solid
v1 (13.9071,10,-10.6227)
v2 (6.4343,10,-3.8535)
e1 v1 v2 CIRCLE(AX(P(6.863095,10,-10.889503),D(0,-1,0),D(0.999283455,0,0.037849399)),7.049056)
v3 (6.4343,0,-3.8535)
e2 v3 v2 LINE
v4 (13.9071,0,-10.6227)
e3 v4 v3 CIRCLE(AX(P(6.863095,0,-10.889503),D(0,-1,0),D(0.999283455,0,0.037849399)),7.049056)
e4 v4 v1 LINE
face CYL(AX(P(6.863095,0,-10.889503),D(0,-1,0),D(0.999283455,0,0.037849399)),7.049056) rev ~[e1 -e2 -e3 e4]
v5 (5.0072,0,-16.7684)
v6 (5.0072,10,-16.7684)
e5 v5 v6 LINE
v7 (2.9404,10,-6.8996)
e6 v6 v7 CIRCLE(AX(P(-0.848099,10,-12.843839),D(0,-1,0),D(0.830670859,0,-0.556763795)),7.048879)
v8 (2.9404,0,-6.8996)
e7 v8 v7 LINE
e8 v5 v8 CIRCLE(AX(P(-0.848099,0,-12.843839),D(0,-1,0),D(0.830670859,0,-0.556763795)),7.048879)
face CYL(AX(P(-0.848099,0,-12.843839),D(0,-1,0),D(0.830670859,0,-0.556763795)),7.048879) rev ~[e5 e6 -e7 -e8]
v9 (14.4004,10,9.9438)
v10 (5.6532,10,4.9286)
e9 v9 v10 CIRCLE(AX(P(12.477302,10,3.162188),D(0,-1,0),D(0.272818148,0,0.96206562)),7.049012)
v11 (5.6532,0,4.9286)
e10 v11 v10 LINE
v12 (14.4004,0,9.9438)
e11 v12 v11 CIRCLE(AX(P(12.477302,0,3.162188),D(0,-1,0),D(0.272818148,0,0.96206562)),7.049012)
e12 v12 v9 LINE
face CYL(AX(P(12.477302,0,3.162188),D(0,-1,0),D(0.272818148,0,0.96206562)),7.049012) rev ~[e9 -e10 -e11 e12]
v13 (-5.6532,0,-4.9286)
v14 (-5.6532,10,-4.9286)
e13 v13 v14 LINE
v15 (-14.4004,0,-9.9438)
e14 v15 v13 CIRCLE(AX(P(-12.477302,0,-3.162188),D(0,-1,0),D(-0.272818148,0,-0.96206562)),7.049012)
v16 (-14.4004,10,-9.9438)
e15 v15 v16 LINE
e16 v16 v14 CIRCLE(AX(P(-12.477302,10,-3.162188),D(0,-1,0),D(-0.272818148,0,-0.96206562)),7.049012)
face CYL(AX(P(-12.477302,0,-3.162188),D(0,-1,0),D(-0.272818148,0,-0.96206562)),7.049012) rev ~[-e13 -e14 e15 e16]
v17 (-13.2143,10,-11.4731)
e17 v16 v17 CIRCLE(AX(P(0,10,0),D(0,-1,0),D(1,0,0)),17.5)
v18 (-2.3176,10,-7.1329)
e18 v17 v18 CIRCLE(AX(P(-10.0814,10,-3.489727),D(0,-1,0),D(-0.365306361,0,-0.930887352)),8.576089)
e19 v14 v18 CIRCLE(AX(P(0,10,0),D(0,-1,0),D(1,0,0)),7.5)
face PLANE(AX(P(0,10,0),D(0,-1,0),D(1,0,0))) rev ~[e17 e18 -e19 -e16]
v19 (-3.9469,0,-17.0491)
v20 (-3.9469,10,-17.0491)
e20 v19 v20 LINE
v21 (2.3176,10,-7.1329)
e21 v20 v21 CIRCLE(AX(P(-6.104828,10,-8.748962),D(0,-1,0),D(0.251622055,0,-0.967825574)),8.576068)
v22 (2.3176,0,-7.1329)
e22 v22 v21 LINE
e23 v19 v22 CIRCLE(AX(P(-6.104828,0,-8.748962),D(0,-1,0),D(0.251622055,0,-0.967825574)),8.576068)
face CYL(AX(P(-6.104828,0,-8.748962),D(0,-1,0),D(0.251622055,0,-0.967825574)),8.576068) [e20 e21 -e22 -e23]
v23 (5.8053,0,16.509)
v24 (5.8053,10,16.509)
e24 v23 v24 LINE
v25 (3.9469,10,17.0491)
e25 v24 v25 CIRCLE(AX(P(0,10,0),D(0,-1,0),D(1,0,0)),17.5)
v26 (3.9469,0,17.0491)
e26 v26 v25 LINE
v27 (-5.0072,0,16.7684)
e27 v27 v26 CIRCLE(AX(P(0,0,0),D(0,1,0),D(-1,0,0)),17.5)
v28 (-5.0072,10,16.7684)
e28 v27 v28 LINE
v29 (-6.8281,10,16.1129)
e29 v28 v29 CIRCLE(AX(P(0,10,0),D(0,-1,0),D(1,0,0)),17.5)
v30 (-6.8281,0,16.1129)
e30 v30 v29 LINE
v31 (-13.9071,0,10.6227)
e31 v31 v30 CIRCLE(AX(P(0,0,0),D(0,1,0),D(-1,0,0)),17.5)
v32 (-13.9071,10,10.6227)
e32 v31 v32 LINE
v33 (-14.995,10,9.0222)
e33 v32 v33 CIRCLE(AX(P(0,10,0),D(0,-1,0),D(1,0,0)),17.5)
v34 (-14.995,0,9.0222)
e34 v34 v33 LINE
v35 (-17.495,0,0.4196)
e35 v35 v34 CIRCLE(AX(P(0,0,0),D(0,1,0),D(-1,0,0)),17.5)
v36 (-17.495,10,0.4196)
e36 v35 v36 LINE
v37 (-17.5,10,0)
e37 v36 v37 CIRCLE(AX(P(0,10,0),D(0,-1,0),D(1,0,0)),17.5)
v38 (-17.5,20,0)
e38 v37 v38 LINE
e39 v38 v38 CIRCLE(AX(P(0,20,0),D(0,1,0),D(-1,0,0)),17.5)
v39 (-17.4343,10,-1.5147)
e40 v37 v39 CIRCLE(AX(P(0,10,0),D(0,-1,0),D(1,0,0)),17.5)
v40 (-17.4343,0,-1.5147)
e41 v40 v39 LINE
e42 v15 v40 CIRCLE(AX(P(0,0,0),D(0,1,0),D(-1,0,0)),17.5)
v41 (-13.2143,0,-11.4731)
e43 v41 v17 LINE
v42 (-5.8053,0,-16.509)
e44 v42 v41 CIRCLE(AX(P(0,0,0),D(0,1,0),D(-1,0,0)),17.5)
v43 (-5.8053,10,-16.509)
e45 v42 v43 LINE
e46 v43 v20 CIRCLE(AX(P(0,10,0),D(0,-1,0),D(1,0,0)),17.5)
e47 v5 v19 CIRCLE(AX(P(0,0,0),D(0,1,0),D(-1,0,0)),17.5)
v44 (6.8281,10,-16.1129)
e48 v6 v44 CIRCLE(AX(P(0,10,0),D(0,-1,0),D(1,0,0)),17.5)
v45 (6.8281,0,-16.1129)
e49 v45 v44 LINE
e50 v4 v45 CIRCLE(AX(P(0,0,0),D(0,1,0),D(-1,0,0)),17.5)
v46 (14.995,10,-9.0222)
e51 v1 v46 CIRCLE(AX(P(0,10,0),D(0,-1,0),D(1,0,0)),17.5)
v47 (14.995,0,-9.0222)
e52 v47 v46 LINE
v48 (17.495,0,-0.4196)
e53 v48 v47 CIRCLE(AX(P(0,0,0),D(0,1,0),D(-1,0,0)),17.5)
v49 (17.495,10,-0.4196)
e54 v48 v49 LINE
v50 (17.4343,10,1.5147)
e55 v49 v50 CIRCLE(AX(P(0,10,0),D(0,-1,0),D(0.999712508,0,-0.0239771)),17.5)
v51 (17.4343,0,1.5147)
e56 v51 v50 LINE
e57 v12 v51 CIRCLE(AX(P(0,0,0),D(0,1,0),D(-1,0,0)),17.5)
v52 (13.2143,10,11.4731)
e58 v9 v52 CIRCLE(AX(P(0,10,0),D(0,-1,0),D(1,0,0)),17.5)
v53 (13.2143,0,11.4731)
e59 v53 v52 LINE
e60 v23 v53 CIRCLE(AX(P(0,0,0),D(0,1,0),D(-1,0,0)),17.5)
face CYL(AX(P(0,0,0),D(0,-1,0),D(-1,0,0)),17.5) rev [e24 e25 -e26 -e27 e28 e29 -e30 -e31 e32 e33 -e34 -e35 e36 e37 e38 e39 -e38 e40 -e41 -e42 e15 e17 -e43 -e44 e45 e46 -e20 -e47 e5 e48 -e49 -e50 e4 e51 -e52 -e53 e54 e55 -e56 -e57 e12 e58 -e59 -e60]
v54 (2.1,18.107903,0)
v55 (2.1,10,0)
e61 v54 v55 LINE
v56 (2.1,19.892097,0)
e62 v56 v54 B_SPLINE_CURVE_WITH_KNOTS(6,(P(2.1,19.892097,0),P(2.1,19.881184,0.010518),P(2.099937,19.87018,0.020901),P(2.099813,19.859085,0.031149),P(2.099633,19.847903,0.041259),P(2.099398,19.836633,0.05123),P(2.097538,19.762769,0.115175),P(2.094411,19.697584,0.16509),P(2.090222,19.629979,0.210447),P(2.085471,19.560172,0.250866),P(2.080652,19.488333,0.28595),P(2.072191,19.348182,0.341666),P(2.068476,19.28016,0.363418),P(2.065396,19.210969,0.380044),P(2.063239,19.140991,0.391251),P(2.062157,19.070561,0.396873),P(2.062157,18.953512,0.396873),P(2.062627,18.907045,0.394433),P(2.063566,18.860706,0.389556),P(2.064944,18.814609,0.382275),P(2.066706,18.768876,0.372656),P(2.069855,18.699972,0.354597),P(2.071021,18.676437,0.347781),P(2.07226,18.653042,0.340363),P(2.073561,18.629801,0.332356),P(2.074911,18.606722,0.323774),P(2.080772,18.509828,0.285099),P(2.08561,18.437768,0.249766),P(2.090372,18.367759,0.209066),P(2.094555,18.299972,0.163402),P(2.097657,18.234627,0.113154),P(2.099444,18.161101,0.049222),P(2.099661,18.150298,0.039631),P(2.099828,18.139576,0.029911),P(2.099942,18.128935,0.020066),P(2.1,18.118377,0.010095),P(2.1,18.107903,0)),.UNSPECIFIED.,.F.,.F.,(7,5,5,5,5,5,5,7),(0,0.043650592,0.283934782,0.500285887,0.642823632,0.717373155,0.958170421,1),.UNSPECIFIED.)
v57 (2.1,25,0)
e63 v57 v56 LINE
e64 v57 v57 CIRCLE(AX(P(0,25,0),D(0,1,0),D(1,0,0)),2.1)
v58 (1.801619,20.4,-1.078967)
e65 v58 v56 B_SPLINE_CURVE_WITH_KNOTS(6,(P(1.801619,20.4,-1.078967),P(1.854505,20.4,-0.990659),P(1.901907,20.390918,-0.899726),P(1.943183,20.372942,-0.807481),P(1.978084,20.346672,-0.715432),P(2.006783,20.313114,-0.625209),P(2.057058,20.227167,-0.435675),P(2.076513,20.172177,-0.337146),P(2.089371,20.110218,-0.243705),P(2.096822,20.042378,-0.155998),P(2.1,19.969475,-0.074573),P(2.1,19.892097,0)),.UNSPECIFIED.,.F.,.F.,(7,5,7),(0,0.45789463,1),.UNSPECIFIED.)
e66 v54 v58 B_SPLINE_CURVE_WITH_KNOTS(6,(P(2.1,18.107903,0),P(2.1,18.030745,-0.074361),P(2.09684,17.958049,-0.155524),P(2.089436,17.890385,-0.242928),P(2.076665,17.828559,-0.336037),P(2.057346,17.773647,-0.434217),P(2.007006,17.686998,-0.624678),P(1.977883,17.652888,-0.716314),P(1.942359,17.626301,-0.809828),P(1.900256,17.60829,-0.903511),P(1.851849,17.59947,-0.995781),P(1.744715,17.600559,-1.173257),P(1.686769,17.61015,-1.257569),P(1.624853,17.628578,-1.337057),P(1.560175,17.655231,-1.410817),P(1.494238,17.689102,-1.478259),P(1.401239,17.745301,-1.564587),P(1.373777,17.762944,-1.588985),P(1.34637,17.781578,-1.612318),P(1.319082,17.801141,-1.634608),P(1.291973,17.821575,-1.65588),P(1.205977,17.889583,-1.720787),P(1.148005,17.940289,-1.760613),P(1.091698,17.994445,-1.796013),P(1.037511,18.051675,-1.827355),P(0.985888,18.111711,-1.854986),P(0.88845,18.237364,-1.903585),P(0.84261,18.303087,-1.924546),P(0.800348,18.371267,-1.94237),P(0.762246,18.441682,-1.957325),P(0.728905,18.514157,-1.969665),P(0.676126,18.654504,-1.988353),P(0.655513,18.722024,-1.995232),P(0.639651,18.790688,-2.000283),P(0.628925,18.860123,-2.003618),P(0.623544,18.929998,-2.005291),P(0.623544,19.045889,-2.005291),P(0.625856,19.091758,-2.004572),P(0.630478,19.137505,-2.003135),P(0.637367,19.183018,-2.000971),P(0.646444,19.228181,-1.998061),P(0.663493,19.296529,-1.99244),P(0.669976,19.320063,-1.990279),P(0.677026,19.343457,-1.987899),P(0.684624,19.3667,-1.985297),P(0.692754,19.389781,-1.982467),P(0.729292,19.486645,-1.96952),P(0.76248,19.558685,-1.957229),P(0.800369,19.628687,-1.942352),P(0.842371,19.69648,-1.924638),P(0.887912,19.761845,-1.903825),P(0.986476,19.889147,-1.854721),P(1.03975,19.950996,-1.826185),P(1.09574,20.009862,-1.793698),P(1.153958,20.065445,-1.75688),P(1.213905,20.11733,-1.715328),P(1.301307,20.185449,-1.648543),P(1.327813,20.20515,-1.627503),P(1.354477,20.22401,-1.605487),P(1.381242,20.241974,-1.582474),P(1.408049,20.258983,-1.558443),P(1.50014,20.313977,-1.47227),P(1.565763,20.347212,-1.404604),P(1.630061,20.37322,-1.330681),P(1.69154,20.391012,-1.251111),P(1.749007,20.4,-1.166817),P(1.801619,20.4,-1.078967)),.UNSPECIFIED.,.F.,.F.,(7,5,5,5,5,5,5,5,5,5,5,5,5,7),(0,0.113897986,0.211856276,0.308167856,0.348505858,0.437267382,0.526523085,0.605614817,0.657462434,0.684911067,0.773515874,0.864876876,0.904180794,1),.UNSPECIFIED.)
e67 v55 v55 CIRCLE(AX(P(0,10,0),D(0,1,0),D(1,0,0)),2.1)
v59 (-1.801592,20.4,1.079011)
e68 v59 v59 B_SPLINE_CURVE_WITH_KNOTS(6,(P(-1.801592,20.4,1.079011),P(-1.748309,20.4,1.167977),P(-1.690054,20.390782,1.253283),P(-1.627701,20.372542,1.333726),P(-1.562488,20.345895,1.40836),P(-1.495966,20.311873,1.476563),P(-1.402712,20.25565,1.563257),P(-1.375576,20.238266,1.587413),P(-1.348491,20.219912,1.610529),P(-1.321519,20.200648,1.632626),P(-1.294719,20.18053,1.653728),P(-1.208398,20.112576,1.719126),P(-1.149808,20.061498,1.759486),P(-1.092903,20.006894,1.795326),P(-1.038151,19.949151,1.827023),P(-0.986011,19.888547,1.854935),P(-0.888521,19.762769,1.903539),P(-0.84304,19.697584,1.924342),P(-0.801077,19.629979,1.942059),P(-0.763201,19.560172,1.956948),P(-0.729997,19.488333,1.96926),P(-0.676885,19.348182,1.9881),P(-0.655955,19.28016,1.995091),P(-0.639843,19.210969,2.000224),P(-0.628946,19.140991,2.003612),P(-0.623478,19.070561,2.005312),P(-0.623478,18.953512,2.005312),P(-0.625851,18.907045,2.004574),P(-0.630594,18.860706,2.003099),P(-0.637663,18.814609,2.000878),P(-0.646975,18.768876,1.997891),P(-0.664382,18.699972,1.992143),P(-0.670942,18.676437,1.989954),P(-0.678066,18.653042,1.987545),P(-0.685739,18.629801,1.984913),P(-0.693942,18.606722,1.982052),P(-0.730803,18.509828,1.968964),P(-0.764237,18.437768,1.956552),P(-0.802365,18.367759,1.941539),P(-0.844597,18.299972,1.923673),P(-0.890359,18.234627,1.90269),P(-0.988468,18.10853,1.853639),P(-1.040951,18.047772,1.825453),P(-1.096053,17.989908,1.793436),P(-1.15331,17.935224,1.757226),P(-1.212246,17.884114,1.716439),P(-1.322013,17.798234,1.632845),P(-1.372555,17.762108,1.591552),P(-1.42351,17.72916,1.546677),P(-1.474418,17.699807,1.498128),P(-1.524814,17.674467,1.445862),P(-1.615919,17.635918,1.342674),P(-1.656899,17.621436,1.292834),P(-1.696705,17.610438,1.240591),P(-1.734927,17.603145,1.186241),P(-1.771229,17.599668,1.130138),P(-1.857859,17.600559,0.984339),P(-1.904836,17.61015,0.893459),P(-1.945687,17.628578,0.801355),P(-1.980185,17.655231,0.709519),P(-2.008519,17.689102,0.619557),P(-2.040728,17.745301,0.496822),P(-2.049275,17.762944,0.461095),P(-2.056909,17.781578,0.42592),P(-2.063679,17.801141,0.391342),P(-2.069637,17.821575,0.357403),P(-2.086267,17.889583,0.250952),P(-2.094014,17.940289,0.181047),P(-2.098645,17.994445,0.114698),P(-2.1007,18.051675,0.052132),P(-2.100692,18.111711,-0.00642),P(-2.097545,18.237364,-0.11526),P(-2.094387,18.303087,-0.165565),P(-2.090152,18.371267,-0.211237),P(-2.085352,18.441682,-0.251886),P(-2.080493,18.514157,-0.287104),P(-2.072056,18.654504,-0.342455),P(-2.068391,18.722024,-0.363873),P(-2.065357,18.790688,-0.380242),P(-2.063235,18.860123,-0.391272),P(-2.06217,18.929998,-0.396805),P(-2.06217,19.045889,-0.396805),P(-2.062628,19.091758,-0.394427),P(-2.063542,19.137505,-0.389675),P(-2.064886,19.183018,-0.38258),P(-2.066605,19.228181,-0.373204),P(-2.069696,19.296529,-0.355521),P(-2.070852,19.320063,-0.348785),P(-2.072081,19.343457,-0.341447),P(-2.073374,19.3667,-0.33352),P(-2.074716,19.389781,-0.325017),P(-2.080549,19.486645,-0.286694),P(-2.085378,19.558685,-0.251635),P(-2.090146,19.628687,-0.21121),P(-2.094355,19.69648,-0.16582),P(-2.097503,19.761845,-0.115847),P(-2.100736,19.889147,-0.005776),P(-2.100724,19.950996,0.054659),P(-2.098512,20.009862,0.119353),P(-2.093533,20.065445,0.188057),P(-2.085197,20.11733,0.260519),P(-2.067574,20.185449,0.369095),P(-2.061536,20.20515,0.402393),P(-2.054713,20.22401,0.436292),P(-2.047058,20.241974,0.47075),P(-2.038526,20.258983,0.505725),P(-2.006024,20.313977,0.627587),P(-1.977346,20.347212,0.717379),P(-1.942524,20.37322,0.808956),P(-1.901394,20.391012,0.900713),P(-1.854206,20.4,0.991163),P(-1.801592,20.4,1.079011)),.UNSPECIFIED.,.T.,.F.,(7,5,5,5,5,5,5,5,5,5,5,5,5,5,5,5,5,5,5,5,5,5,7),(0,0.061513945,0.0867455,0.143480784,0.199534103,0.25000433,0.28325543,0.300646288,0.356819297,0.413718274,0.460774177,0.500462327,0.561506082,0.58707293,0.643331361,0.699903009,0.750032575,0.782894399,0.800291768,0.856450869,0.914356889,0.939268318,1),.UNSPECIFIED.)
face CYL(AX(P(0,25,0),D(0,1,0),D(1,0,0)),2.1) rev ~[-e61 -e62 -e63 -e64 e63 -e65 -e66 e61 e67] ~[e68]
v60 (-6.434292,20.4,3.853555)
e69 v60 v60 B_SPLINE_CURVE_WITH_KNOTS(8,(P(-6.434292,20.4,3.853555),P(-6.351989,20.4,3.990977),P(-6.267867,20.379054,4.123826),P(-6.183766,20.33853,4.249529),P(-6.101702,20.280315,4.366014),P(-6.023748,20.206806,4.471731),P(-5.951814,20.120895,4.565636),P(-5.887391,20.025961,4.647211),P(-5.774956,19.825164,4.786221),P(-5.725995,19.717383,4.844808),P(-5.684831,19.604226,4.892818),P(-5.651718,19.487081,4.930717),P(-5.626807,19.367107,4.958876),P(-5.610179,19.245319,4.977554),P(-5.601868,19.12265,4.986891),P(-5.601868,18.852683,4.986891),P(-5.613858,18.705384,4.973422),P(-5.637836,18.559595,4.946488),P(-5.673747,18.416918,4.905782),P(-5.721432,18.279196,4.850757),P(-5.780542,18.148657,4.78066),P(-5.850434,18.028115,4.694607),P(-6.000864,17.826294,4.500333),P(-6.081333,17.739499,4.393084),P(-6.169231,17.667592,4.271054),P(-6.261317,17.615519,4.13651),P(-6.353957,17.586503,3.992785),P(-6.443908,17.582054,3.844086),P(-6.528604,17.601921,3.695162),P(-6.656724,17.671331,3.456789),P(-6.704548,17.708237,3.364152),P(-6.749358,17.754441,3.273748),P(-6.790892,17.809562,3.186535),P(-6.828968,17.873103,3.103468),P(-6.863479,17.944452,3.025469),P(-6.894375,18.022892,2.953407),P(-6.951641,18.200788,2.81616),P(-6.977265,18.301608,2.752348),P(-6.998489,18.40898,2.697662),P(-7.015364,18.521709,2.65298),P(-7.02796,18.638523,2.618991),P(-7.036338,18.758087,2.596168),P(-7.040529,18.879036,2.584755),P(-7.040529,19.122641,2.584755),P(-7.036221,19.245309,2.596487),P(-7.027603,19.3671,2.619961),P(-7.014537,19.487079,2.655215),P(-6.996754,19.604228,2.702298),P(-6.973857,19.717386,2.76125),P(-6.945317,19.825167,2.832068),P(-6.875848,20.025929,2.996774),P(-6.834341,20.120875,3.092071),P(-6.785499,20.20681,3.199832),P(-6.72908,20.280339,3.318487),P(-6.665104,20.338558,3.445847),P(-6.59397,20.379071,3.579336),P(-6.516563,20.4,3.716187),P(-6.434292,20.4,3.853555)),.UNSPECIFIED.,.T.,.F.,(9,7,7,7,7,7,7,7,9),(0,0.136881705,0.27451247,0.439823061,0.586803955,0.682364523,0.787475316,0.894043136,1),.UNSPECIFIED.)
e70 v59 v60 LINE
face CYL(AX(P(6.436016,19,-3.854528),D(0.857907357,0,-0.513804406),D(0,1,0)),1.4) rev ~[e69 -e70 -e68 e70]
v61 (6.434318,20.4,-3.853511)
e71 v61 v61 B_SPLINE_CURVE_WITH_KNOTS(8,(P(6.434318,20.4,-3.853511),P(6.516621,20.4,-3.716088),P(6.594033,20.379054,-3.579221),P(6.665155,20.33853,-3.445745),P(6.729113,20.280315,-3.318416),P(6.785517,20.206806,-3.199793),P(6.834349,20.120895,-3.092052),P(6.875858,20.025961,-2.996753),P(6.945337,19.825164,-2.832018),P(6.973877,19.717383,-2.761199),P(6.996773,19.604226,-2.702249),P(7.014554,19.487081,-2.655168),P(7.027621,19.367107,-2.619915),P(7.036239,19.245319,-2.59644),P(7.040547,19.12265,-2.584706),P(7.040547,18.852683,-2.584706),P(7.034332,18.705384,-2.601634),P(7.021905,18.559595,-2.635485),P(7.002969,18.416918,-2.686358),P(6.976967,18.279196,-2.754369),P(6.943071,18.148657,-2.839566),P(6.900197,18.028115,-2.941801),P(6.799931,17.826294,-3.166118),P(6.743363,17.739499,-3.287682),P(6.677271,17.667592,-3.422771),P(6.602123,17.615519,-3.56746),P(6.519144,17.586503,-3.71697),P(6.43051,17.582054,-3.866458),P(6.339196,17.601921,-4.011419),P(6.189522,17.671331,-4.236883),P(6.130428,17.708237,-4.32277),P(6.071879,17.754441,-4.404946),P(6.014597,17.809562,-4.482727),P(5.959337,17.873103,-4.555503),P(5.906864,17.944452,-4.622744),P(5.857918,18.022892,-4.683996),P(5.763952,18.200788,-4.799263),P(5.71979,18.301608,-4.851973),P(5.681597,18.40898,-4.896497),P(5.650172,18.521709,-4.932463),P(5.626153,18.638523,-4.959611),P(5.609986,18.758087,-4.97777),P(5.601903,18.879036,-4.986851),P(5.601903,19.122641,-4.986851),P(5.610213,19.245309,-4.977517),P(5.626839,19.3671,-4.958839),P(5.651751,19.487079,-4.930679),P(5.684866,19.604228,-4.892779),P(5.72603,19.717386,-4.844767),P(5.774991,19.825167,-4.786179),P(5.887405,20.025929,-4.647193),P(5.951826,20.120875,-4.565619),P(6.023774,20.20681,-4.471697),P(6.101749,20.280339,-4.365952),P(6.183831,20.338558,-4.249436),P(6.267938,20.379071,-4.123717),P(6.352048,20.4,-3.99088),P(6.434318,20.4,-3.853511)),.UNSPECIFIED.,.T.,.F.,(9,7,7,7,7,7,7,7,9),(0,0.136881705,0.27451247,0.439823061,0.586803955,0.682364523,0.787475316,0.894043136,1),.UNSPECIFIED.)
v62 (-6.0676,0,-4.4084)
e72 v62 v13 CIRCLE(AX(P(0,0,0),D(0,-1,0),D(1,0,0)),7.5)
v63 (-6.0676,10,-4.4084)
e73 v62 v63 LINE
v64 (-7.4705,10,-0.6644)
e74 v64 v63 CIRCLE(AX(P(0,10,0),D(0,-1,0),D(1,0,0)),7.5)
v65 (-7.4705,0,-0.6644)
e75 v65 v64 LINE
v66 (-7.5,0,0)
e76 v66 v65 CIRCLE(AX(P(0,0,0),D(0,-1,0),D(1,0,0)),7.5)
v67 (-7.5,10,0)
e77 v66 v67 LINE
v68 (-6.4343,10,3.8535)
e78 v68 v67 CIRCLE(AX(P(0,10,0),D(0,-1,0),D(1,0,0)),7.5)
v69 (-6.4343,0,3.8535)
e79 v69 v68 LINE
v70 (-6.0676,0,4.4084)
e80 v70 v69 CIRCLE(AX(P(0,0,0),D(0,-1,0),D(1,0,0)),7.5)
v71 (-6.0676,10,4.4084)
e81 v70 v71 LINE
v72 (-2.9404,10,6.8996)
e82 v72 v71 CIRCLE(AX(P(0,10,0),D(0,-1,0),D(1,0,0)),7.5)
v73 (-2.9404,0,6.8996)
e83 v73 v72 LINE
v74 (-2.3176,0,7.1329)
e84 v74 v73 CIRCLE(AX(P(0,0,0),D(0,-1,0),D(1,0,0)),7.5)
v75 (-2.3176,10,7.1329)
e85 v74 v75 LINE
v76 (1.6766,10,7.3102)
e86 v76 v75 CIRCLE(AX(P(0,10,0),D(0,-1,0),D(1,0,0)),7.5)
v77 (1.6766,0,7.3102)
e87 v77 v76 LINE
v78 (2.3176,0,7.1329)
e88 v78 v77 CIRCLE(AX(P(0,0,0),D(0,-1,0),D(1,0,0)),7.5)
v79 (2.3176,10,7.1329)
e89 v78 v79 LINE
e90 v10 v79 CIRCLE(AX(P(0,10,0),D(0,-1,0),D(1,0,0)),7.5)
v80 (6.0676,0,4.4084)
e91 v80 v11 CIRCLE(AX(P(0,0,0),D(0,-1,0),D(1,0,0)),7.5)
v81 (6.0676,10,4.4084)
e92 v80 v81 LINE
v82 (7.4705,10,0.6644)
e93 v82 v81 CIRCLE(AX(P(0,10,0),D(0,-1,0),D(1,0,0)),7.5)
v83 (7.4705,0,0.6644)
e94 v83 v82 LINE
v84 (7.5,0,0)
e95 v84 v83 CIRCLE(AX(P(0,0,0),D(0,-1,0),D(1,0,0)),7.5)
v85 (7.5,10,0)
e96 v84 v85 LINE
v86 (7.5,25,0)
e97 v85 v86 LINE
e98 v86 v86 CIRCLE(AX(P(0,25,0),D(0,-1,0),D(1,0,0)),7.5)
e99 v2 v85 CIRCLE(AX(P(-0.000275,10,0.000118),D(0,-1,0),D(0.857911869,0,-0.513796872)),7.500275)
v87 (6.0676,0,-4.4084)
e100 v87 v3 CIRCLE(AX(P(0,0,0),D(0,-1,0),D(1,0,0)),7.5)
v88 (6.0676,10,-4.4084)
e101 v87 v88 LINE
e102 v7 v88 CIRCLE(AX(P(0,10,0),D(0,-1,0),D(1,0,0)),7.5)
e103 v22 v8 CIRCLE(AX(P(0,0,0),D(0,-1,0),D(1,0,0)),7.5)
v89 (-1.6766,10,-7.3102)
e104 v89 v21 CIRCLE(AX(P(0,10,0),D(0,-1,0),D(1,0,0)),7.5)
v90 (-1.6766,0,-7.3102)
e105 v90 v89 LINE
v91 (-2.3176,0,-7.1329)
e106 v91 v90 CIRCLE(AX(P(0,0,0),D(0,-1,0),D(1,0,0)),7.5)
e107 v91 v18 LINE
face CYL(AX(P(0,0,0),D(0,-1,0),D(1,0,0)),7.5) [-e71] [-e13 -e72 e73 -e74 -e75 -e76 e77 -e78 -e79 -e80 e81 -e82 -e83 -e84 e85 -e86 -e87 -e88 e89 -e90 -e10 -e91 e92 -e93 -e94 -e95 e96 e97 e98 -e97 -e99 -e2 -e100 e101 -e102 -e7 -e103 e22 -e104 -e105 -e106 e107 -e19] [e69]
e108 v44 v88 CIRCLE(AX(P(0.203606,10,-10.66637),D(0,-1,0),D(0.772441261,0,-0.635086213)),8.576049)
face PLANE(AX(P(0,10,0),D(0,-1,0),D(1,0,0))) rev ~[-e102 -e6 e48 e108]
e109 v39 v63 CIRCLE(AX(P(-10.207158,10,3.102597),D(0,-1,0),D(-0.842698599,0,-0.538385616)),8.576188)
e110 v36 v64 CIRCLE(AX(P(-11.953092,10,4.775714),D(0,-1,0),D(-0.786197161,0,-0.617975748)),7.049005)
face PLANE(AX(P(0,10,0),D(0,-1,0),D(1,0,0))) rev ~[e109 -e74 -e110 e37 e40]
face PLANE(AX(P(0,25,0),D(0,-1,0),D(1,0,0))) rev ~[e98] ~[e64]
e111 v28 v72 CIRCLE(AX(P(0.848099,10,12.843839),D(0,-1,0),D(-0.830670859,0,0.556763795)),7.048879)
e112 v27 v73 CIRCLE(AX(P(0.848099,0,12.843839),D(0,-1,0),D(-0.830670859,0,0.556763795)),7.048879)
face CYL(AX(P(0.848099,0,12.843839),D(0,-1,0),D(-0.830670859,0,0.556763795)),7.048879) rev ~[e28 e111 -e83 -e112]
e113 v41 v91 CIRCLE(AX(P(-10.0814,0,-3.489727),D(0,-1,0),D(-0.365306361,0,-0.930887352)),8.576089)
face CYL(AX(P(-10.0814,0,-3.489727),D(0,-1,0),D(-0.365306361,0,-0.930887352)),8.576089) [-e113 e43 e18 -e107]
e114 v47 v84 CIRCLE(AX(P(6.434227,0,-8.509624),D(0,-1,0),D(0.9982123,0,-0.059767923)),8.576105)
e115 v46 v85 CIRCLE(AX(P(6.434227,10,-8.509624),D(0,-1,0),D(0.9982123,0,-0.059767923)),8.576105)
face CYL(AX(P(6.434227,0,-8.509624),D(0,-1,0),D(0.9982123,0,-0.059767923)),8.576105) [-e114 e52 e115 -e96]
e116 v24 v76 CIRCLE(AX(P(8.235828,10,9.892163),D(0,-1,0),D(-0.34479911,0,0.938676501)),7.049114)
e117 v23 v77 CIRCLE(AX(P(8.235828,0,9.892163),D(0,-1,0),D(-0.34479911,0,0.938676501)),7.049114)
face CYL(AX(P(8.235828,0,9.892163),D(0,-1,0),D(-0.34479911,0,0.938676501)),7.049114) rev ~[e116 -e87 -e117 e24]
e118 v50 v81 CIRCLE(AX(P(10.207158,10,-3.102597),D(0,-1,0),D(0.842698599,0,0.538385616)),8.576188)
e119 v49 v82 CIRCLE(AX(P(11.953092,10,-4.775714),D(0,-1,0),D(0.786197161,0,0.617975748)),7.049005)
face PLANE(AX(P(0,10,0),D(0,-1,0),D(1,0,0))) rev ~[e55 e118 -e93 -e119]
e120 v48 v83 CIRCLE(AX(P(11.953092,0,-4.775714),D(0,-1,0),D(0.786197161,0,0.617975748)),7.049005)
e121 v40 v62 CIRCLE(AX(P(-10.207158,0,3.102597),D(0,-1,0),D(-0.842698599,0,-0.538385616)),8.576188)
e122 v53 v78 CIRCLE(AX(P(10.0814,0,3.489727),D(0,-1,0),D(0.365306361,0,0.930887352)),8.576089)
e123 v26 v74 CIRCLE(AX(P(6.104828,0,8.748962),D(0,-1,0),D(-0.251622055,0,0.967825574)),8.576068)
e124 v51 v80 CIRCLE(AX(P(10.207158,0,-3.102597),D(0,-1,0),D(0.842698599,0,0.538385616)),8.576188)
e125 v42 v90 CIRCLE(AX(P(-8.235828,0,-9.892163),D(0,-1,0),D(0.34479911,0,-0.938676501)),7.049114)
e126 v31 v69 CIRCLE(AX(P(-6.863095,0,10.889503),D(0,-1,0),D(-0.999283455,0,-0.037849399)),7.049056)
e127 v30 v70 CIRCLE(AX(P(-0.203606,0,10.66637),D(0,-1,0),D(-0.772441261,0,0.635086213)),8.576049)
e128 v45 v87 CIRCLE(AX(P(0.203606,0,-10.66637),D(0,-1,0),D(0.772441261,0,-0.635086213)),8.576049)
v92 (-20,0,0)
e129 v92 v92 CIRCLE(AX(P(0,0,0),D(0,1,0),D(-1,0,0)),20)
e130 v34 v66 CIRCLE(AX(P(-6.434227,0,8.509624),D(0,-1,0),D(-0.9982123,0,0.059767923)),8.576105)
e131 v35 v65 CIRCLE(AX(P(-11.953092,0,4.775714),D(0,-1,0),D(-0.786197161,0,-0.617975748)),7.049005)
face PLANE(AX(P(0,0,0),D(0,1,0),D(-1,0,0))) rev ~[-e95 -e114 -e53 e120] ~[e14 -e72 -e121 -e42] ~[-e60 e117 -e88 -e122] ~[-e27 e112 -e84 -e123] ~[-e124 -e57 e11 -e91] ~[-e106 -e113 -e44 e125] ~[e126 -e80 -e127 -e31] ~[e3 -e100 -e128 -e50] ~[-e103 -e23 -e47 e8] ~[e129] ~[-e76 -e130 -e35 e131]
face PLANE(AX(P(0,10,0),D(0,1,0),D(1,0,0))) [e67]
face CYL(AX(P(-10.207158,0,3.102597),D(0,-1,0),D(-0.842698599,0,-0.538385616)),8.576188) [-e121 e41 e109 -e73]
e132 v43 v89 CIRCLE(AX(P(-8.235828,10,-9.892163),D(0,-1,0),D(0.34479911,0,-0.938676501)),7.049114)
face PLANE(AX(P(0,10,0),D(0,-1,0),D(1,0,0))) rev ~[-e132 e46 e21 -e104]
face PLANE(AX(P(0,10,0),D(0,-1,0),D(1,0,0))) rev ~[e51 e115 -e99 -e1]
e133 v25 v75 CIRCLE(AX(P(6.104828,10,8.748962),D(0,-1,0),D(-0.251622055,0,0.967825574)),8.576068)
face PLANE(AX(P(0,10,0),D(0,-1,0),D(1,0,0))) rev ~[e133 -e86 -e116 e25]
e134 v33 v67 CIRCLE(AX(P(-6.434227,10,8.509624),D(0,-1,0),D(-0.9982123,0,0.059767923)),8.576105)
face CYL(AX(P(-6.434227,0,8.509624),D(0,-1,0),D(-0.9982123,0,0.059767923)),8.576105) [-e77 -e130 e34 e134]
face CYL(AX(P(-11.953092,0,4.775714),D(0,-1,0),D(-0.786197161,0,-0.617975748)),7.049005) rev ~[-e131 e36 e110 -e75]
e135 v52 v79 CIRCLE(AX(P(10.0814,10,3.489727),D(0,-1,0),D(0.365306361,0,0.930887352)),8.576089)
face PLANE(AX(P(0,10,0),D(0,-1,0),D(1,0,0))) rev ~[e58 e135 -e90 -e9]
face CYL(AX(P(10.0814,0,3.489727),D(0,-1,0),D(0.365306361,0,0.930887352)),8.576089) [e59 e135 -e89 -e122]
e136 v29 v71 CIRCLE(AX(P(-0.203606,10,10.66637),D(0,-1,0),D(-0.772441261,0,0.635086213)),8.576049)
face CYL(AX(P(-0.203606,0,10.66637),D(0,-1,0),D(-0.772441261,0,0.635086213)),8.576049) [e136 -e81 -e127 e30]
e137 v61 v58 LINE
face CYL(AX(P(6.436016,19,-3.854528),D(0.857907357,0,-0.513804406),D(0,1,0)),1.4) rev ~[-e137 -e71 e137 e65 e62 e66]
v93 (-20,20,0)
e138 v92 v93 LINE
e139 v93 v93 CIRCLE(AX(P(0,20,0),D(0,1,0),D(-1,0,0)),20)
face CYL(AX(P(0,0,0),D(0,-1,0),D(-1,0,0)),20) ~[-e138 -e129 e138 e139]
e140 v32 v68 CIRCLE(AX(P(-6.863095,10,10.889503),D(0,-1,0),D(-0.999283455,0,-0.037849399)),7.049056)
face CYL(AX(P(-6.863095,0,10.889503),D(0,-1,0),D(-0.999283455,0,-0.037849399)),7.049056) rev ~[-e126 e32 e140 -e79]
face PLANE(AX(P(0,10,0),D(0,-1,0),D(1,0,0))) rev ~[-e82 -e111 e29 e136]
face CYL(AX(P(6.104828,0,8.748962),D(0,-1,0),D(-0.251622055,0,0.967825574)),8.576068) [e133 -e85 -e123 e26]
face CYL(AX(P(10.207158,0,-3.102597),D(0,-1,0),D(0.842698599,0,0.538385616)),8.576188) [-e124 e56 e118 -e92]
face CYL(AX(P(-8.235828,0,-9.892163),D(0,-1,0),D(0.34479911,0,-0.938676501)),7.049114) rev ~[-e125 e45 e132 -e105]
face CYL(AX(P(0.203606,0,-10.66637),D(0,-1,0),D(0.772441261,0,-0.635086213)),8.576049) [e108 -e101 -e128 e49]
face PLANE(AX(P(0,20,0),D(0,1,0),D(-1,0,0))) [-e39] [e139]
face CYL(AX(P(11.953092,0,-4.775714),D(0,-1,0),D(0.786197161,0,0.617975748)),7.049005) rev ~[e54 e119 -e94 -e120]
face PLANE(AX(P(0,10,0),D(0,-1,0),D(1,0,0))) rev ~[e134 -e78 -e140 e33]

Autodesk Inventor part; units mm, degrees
ref_plane "YZ Plane" through (0, 0, 0) normal (1, 0, 0) x (0, 1, 0)
ref_plane "XZ Plane" through (0, 0, 0) normal (0, 1, 0) x (-1, 0, 0)
ref_plane "XY Plane" through (0, 0, 0) normal (0, 0, 1) x (1, 0, 0)
sketch "Эскиз1" plane through (0, 0, 0) normal (0, 1, 0) x (-1, 0, 0)
  circle A0 centre (0, 0) radius 20
  circle A1 centre (0, 0) radius 17.5
  dimension "d0" = 40
  dimension "d1" = 35
extrude "Выдавливание1" add sketch "Эскиз1" along normal blind 20
sketch "Эскиз2" plane through (0, 0, 0) normal (0, -1, 0) x (1, 0, 0)
  circle A0 centre (0, 0) radius 7.5
  dimension "d5" = 15
extrude "Выдавливание2" add sketch "Эскиз2" against normal blind 25
sketch "Эскиз3" plane through (0, 0, 0) normal (0, -1, 0) x (1, 0, 0)
  arc A0 (6.4343, -3.8535) -> (7.5, 0) centre (0, 0) ccw
  circle A1 centre (0, 0) radius 17.5 projected
  arc A2 (13.9071, -10.6227) -> (14.995, -9.0222) centre (0, 0) ccw
  circle A3 centre (0, 0) radius 7.5 projected
  arc A4 (14.995, -9.0222) -> (7.5, 0) centre (6.4343, -8.5096) ccw
  arc A5 (13.9071, -10.6227) -> (6.4343, -3.8535) centre (6.8631, -10.8895) ccw
  arc A6 (17.4343, 1.5147) -> (6.0676, 4.4084) centre (10.2073, -3.1024) ccw
  arc A7 (7.4705, 0.6644) -> (6.0676, 4.4084) centre (0, 0) ccw
  arc A8 (17.495, -0.4196) -> (7.4705, 0.6644) centre (11.9531, -4.7757) ccw
  arc A9 (17.495, -0.4196) -> (17.4343, 1.5147) centre (0, 0) ccw
  arc A10 (13.2143, 11.4731) -> (2.3176, 7.1329) centre (10.0814, 3.4898) ccw
  arc A11 (5.6532, 4.9286) -> (2.3176, 7.1329) centre (0, 0) ccw
  arc A12 (14.4004, 9.9438) -> (5.6532, 4.9286) centre (12.4773, 3.1622) ccw
  arc A13 (14.4004, 9.9438) -> (13.2143, 11.4731) centre (0, 0) ccw
  arc A14 (3.9469, 17.0491) -> (-2.3176, 7.1329) centre (6.1048, 8.749) ccw
  arc A15 (1.6766, 7.3102) -> (-2.3176, 7.1329) centre (0, 0) ccw
  arc A16 (5.8053, 16.509) -> (1.6766, 7.3102) centre (8.2357, 9.8923) ccw
  arc A17 (5.8053, 16.509) -> (3.9469, 17.0491) centre (0, 0) ccw
  arc A18 (-6.8281, 16.1129) -> (-6.0676, 4.4084) centre (-0.2037, 10.6664) ccw
  arc A19 (-2.9404, 6.8996) -> (-6.0676, 4.4084) centre (0, 0) ccw
  arc A20 (-5.0072, 16.7684) -> (-2.9404, 6.8996) centre (0.8483, 12.8438) ccw
  arc A21 (-5.0072, 16.7684) -> (-6.8281, 16.1129) centre (0, 0) ccw
  arc A22 (-14.995, 9.0222) -> (-7.5, 0) centre (-6.4343, 8.5096) ccw
  arc A23 (-6.4343, 3.8535) -> (-7.5, 0) centre (0, 0) ccw
  arc A24 (-13.9071, 10.6227) -> (-6.4343, 3.8535) centre (-6.8631, 10.8895) ccw
  arc A25 (-13.9071, 10.6227) -> (-14.995, 9.0222) centre (0, 0) ccw
  arc A26 (-17.4343, -1.5147) -> (-6.0676, -4.4084) centre (-10.2073, 3.1024) ccw
  arc A27 (-7.4705, -0.6644) -> (-6.0676, -4.4084) centre (0, 0) ccw
  arc A28 (-17.495, 0.4196) -> (-7.4705, -0.6644) centre (-11.9531, 4.7757) ccw
  arc A29 (-17.495, 0.4196) -> (-17.4343, -1.5147) centre (0, 0) ccw
  arc A30 (-13.2143, -11.4731) -> (-2.3176, -7.1329) centre (-10.0814, -3.4898) ccw
  arc A31 (-5.6532, -4.9286) -> (-2.3176, -7.1329) centre (0, 0) ccw
  arc A32 (-14.4004, -9.9438) -> (-5.6532, -4.9286) centre (-12.4773, -3.1622) ccw
  arc A33 (-14.4004, -9.9438) -> (-13.2143, -11.4731) centre (0, 0) ccw
  arc A34 (-3.9469, -17.0491) -> (2.3176, -7.1329) centre (-6.1048, -8.749) ccw
  arc A35 (-1.6766, -7.3102) -> (2.3176, -7.1329) centre (0, 0) ccw
  arc A36 (-5.8053, -16.509) -> (-1.6766, -7.3102) centre (-8.2357, -9.8923) ccw
  arc A37 (-5.8053, -16.509) -> (-3.9469, -17.0491) centre (0, 0) ccw
  arc A38 (6.8281, -16.1129) -> (6.0676, -4.4084) centre (0.2037, -10.6664) ccw
  arc A39 (2.9404, -6.8996) -> (6.0676, -4.4084) centre (0, 0) ccw
  arc A40 (5.0072, -16.7684) -> (2.9404, -6.8996) centre (-0.8483, -12.8438) ccw
  arc A41 (5.0072, -16.7684) -> (6.8281, -16.1129) centre (0, 0) ccw
  dimension "d10" = 360
extrude "Выдавливание3" add sketch "Эскиз3" against normal blind 10 contours A0 A4 A1 A5 | A38 A1 A40 A3 | A3 A6 A1 A8 | A34 A1 A36 A3 | A3 A10 A1 A12 | A30 A1 A32 A3 | A3 A14 A1 A16 | A26 A1 A28 A3 | A3 A18 A1 A20 | A22 A1 A24 A3
sketch "Эскиз5" plane through (0, 25, 0) normal (0, 1, 0) x (1, 0, 0)
  circle A0 centre (0, 0) radius 2.1
  dimension "d14" = 4.2
extrude "Выдавливание4" cut sketch "Эскиз5" against normal blind 15
ref_plane "РабПлоскость1" through (6.4343, 0, -3.8535) normal (0.8579, 0, -0.5138) x (0, 1, 0)
sketch "Эскиз6" plane through (6.4343, 0, -3.8535) normal (0.8579, 0, -0.5138) x (0, 1, 0)
  line L0 (25, -7.5) -> (25, 7.5) projected
  line L1 (25, 0) -> (19, 0)
  circle A0 centre (19, 0) radius 1.4
  point P0 (0, 0)
  dimension "d17" = 6
  dimension "d18" = 2.8
extrude "Выдавливание5" cut sketch "Эскиз6" against normal blind 15
sketch "Эскиз7" plane through (0, 0, 0) normal (0, -1, 0) x (1, 0, 0)
  point P0 (0, 0)
properties part number "Колесо"
